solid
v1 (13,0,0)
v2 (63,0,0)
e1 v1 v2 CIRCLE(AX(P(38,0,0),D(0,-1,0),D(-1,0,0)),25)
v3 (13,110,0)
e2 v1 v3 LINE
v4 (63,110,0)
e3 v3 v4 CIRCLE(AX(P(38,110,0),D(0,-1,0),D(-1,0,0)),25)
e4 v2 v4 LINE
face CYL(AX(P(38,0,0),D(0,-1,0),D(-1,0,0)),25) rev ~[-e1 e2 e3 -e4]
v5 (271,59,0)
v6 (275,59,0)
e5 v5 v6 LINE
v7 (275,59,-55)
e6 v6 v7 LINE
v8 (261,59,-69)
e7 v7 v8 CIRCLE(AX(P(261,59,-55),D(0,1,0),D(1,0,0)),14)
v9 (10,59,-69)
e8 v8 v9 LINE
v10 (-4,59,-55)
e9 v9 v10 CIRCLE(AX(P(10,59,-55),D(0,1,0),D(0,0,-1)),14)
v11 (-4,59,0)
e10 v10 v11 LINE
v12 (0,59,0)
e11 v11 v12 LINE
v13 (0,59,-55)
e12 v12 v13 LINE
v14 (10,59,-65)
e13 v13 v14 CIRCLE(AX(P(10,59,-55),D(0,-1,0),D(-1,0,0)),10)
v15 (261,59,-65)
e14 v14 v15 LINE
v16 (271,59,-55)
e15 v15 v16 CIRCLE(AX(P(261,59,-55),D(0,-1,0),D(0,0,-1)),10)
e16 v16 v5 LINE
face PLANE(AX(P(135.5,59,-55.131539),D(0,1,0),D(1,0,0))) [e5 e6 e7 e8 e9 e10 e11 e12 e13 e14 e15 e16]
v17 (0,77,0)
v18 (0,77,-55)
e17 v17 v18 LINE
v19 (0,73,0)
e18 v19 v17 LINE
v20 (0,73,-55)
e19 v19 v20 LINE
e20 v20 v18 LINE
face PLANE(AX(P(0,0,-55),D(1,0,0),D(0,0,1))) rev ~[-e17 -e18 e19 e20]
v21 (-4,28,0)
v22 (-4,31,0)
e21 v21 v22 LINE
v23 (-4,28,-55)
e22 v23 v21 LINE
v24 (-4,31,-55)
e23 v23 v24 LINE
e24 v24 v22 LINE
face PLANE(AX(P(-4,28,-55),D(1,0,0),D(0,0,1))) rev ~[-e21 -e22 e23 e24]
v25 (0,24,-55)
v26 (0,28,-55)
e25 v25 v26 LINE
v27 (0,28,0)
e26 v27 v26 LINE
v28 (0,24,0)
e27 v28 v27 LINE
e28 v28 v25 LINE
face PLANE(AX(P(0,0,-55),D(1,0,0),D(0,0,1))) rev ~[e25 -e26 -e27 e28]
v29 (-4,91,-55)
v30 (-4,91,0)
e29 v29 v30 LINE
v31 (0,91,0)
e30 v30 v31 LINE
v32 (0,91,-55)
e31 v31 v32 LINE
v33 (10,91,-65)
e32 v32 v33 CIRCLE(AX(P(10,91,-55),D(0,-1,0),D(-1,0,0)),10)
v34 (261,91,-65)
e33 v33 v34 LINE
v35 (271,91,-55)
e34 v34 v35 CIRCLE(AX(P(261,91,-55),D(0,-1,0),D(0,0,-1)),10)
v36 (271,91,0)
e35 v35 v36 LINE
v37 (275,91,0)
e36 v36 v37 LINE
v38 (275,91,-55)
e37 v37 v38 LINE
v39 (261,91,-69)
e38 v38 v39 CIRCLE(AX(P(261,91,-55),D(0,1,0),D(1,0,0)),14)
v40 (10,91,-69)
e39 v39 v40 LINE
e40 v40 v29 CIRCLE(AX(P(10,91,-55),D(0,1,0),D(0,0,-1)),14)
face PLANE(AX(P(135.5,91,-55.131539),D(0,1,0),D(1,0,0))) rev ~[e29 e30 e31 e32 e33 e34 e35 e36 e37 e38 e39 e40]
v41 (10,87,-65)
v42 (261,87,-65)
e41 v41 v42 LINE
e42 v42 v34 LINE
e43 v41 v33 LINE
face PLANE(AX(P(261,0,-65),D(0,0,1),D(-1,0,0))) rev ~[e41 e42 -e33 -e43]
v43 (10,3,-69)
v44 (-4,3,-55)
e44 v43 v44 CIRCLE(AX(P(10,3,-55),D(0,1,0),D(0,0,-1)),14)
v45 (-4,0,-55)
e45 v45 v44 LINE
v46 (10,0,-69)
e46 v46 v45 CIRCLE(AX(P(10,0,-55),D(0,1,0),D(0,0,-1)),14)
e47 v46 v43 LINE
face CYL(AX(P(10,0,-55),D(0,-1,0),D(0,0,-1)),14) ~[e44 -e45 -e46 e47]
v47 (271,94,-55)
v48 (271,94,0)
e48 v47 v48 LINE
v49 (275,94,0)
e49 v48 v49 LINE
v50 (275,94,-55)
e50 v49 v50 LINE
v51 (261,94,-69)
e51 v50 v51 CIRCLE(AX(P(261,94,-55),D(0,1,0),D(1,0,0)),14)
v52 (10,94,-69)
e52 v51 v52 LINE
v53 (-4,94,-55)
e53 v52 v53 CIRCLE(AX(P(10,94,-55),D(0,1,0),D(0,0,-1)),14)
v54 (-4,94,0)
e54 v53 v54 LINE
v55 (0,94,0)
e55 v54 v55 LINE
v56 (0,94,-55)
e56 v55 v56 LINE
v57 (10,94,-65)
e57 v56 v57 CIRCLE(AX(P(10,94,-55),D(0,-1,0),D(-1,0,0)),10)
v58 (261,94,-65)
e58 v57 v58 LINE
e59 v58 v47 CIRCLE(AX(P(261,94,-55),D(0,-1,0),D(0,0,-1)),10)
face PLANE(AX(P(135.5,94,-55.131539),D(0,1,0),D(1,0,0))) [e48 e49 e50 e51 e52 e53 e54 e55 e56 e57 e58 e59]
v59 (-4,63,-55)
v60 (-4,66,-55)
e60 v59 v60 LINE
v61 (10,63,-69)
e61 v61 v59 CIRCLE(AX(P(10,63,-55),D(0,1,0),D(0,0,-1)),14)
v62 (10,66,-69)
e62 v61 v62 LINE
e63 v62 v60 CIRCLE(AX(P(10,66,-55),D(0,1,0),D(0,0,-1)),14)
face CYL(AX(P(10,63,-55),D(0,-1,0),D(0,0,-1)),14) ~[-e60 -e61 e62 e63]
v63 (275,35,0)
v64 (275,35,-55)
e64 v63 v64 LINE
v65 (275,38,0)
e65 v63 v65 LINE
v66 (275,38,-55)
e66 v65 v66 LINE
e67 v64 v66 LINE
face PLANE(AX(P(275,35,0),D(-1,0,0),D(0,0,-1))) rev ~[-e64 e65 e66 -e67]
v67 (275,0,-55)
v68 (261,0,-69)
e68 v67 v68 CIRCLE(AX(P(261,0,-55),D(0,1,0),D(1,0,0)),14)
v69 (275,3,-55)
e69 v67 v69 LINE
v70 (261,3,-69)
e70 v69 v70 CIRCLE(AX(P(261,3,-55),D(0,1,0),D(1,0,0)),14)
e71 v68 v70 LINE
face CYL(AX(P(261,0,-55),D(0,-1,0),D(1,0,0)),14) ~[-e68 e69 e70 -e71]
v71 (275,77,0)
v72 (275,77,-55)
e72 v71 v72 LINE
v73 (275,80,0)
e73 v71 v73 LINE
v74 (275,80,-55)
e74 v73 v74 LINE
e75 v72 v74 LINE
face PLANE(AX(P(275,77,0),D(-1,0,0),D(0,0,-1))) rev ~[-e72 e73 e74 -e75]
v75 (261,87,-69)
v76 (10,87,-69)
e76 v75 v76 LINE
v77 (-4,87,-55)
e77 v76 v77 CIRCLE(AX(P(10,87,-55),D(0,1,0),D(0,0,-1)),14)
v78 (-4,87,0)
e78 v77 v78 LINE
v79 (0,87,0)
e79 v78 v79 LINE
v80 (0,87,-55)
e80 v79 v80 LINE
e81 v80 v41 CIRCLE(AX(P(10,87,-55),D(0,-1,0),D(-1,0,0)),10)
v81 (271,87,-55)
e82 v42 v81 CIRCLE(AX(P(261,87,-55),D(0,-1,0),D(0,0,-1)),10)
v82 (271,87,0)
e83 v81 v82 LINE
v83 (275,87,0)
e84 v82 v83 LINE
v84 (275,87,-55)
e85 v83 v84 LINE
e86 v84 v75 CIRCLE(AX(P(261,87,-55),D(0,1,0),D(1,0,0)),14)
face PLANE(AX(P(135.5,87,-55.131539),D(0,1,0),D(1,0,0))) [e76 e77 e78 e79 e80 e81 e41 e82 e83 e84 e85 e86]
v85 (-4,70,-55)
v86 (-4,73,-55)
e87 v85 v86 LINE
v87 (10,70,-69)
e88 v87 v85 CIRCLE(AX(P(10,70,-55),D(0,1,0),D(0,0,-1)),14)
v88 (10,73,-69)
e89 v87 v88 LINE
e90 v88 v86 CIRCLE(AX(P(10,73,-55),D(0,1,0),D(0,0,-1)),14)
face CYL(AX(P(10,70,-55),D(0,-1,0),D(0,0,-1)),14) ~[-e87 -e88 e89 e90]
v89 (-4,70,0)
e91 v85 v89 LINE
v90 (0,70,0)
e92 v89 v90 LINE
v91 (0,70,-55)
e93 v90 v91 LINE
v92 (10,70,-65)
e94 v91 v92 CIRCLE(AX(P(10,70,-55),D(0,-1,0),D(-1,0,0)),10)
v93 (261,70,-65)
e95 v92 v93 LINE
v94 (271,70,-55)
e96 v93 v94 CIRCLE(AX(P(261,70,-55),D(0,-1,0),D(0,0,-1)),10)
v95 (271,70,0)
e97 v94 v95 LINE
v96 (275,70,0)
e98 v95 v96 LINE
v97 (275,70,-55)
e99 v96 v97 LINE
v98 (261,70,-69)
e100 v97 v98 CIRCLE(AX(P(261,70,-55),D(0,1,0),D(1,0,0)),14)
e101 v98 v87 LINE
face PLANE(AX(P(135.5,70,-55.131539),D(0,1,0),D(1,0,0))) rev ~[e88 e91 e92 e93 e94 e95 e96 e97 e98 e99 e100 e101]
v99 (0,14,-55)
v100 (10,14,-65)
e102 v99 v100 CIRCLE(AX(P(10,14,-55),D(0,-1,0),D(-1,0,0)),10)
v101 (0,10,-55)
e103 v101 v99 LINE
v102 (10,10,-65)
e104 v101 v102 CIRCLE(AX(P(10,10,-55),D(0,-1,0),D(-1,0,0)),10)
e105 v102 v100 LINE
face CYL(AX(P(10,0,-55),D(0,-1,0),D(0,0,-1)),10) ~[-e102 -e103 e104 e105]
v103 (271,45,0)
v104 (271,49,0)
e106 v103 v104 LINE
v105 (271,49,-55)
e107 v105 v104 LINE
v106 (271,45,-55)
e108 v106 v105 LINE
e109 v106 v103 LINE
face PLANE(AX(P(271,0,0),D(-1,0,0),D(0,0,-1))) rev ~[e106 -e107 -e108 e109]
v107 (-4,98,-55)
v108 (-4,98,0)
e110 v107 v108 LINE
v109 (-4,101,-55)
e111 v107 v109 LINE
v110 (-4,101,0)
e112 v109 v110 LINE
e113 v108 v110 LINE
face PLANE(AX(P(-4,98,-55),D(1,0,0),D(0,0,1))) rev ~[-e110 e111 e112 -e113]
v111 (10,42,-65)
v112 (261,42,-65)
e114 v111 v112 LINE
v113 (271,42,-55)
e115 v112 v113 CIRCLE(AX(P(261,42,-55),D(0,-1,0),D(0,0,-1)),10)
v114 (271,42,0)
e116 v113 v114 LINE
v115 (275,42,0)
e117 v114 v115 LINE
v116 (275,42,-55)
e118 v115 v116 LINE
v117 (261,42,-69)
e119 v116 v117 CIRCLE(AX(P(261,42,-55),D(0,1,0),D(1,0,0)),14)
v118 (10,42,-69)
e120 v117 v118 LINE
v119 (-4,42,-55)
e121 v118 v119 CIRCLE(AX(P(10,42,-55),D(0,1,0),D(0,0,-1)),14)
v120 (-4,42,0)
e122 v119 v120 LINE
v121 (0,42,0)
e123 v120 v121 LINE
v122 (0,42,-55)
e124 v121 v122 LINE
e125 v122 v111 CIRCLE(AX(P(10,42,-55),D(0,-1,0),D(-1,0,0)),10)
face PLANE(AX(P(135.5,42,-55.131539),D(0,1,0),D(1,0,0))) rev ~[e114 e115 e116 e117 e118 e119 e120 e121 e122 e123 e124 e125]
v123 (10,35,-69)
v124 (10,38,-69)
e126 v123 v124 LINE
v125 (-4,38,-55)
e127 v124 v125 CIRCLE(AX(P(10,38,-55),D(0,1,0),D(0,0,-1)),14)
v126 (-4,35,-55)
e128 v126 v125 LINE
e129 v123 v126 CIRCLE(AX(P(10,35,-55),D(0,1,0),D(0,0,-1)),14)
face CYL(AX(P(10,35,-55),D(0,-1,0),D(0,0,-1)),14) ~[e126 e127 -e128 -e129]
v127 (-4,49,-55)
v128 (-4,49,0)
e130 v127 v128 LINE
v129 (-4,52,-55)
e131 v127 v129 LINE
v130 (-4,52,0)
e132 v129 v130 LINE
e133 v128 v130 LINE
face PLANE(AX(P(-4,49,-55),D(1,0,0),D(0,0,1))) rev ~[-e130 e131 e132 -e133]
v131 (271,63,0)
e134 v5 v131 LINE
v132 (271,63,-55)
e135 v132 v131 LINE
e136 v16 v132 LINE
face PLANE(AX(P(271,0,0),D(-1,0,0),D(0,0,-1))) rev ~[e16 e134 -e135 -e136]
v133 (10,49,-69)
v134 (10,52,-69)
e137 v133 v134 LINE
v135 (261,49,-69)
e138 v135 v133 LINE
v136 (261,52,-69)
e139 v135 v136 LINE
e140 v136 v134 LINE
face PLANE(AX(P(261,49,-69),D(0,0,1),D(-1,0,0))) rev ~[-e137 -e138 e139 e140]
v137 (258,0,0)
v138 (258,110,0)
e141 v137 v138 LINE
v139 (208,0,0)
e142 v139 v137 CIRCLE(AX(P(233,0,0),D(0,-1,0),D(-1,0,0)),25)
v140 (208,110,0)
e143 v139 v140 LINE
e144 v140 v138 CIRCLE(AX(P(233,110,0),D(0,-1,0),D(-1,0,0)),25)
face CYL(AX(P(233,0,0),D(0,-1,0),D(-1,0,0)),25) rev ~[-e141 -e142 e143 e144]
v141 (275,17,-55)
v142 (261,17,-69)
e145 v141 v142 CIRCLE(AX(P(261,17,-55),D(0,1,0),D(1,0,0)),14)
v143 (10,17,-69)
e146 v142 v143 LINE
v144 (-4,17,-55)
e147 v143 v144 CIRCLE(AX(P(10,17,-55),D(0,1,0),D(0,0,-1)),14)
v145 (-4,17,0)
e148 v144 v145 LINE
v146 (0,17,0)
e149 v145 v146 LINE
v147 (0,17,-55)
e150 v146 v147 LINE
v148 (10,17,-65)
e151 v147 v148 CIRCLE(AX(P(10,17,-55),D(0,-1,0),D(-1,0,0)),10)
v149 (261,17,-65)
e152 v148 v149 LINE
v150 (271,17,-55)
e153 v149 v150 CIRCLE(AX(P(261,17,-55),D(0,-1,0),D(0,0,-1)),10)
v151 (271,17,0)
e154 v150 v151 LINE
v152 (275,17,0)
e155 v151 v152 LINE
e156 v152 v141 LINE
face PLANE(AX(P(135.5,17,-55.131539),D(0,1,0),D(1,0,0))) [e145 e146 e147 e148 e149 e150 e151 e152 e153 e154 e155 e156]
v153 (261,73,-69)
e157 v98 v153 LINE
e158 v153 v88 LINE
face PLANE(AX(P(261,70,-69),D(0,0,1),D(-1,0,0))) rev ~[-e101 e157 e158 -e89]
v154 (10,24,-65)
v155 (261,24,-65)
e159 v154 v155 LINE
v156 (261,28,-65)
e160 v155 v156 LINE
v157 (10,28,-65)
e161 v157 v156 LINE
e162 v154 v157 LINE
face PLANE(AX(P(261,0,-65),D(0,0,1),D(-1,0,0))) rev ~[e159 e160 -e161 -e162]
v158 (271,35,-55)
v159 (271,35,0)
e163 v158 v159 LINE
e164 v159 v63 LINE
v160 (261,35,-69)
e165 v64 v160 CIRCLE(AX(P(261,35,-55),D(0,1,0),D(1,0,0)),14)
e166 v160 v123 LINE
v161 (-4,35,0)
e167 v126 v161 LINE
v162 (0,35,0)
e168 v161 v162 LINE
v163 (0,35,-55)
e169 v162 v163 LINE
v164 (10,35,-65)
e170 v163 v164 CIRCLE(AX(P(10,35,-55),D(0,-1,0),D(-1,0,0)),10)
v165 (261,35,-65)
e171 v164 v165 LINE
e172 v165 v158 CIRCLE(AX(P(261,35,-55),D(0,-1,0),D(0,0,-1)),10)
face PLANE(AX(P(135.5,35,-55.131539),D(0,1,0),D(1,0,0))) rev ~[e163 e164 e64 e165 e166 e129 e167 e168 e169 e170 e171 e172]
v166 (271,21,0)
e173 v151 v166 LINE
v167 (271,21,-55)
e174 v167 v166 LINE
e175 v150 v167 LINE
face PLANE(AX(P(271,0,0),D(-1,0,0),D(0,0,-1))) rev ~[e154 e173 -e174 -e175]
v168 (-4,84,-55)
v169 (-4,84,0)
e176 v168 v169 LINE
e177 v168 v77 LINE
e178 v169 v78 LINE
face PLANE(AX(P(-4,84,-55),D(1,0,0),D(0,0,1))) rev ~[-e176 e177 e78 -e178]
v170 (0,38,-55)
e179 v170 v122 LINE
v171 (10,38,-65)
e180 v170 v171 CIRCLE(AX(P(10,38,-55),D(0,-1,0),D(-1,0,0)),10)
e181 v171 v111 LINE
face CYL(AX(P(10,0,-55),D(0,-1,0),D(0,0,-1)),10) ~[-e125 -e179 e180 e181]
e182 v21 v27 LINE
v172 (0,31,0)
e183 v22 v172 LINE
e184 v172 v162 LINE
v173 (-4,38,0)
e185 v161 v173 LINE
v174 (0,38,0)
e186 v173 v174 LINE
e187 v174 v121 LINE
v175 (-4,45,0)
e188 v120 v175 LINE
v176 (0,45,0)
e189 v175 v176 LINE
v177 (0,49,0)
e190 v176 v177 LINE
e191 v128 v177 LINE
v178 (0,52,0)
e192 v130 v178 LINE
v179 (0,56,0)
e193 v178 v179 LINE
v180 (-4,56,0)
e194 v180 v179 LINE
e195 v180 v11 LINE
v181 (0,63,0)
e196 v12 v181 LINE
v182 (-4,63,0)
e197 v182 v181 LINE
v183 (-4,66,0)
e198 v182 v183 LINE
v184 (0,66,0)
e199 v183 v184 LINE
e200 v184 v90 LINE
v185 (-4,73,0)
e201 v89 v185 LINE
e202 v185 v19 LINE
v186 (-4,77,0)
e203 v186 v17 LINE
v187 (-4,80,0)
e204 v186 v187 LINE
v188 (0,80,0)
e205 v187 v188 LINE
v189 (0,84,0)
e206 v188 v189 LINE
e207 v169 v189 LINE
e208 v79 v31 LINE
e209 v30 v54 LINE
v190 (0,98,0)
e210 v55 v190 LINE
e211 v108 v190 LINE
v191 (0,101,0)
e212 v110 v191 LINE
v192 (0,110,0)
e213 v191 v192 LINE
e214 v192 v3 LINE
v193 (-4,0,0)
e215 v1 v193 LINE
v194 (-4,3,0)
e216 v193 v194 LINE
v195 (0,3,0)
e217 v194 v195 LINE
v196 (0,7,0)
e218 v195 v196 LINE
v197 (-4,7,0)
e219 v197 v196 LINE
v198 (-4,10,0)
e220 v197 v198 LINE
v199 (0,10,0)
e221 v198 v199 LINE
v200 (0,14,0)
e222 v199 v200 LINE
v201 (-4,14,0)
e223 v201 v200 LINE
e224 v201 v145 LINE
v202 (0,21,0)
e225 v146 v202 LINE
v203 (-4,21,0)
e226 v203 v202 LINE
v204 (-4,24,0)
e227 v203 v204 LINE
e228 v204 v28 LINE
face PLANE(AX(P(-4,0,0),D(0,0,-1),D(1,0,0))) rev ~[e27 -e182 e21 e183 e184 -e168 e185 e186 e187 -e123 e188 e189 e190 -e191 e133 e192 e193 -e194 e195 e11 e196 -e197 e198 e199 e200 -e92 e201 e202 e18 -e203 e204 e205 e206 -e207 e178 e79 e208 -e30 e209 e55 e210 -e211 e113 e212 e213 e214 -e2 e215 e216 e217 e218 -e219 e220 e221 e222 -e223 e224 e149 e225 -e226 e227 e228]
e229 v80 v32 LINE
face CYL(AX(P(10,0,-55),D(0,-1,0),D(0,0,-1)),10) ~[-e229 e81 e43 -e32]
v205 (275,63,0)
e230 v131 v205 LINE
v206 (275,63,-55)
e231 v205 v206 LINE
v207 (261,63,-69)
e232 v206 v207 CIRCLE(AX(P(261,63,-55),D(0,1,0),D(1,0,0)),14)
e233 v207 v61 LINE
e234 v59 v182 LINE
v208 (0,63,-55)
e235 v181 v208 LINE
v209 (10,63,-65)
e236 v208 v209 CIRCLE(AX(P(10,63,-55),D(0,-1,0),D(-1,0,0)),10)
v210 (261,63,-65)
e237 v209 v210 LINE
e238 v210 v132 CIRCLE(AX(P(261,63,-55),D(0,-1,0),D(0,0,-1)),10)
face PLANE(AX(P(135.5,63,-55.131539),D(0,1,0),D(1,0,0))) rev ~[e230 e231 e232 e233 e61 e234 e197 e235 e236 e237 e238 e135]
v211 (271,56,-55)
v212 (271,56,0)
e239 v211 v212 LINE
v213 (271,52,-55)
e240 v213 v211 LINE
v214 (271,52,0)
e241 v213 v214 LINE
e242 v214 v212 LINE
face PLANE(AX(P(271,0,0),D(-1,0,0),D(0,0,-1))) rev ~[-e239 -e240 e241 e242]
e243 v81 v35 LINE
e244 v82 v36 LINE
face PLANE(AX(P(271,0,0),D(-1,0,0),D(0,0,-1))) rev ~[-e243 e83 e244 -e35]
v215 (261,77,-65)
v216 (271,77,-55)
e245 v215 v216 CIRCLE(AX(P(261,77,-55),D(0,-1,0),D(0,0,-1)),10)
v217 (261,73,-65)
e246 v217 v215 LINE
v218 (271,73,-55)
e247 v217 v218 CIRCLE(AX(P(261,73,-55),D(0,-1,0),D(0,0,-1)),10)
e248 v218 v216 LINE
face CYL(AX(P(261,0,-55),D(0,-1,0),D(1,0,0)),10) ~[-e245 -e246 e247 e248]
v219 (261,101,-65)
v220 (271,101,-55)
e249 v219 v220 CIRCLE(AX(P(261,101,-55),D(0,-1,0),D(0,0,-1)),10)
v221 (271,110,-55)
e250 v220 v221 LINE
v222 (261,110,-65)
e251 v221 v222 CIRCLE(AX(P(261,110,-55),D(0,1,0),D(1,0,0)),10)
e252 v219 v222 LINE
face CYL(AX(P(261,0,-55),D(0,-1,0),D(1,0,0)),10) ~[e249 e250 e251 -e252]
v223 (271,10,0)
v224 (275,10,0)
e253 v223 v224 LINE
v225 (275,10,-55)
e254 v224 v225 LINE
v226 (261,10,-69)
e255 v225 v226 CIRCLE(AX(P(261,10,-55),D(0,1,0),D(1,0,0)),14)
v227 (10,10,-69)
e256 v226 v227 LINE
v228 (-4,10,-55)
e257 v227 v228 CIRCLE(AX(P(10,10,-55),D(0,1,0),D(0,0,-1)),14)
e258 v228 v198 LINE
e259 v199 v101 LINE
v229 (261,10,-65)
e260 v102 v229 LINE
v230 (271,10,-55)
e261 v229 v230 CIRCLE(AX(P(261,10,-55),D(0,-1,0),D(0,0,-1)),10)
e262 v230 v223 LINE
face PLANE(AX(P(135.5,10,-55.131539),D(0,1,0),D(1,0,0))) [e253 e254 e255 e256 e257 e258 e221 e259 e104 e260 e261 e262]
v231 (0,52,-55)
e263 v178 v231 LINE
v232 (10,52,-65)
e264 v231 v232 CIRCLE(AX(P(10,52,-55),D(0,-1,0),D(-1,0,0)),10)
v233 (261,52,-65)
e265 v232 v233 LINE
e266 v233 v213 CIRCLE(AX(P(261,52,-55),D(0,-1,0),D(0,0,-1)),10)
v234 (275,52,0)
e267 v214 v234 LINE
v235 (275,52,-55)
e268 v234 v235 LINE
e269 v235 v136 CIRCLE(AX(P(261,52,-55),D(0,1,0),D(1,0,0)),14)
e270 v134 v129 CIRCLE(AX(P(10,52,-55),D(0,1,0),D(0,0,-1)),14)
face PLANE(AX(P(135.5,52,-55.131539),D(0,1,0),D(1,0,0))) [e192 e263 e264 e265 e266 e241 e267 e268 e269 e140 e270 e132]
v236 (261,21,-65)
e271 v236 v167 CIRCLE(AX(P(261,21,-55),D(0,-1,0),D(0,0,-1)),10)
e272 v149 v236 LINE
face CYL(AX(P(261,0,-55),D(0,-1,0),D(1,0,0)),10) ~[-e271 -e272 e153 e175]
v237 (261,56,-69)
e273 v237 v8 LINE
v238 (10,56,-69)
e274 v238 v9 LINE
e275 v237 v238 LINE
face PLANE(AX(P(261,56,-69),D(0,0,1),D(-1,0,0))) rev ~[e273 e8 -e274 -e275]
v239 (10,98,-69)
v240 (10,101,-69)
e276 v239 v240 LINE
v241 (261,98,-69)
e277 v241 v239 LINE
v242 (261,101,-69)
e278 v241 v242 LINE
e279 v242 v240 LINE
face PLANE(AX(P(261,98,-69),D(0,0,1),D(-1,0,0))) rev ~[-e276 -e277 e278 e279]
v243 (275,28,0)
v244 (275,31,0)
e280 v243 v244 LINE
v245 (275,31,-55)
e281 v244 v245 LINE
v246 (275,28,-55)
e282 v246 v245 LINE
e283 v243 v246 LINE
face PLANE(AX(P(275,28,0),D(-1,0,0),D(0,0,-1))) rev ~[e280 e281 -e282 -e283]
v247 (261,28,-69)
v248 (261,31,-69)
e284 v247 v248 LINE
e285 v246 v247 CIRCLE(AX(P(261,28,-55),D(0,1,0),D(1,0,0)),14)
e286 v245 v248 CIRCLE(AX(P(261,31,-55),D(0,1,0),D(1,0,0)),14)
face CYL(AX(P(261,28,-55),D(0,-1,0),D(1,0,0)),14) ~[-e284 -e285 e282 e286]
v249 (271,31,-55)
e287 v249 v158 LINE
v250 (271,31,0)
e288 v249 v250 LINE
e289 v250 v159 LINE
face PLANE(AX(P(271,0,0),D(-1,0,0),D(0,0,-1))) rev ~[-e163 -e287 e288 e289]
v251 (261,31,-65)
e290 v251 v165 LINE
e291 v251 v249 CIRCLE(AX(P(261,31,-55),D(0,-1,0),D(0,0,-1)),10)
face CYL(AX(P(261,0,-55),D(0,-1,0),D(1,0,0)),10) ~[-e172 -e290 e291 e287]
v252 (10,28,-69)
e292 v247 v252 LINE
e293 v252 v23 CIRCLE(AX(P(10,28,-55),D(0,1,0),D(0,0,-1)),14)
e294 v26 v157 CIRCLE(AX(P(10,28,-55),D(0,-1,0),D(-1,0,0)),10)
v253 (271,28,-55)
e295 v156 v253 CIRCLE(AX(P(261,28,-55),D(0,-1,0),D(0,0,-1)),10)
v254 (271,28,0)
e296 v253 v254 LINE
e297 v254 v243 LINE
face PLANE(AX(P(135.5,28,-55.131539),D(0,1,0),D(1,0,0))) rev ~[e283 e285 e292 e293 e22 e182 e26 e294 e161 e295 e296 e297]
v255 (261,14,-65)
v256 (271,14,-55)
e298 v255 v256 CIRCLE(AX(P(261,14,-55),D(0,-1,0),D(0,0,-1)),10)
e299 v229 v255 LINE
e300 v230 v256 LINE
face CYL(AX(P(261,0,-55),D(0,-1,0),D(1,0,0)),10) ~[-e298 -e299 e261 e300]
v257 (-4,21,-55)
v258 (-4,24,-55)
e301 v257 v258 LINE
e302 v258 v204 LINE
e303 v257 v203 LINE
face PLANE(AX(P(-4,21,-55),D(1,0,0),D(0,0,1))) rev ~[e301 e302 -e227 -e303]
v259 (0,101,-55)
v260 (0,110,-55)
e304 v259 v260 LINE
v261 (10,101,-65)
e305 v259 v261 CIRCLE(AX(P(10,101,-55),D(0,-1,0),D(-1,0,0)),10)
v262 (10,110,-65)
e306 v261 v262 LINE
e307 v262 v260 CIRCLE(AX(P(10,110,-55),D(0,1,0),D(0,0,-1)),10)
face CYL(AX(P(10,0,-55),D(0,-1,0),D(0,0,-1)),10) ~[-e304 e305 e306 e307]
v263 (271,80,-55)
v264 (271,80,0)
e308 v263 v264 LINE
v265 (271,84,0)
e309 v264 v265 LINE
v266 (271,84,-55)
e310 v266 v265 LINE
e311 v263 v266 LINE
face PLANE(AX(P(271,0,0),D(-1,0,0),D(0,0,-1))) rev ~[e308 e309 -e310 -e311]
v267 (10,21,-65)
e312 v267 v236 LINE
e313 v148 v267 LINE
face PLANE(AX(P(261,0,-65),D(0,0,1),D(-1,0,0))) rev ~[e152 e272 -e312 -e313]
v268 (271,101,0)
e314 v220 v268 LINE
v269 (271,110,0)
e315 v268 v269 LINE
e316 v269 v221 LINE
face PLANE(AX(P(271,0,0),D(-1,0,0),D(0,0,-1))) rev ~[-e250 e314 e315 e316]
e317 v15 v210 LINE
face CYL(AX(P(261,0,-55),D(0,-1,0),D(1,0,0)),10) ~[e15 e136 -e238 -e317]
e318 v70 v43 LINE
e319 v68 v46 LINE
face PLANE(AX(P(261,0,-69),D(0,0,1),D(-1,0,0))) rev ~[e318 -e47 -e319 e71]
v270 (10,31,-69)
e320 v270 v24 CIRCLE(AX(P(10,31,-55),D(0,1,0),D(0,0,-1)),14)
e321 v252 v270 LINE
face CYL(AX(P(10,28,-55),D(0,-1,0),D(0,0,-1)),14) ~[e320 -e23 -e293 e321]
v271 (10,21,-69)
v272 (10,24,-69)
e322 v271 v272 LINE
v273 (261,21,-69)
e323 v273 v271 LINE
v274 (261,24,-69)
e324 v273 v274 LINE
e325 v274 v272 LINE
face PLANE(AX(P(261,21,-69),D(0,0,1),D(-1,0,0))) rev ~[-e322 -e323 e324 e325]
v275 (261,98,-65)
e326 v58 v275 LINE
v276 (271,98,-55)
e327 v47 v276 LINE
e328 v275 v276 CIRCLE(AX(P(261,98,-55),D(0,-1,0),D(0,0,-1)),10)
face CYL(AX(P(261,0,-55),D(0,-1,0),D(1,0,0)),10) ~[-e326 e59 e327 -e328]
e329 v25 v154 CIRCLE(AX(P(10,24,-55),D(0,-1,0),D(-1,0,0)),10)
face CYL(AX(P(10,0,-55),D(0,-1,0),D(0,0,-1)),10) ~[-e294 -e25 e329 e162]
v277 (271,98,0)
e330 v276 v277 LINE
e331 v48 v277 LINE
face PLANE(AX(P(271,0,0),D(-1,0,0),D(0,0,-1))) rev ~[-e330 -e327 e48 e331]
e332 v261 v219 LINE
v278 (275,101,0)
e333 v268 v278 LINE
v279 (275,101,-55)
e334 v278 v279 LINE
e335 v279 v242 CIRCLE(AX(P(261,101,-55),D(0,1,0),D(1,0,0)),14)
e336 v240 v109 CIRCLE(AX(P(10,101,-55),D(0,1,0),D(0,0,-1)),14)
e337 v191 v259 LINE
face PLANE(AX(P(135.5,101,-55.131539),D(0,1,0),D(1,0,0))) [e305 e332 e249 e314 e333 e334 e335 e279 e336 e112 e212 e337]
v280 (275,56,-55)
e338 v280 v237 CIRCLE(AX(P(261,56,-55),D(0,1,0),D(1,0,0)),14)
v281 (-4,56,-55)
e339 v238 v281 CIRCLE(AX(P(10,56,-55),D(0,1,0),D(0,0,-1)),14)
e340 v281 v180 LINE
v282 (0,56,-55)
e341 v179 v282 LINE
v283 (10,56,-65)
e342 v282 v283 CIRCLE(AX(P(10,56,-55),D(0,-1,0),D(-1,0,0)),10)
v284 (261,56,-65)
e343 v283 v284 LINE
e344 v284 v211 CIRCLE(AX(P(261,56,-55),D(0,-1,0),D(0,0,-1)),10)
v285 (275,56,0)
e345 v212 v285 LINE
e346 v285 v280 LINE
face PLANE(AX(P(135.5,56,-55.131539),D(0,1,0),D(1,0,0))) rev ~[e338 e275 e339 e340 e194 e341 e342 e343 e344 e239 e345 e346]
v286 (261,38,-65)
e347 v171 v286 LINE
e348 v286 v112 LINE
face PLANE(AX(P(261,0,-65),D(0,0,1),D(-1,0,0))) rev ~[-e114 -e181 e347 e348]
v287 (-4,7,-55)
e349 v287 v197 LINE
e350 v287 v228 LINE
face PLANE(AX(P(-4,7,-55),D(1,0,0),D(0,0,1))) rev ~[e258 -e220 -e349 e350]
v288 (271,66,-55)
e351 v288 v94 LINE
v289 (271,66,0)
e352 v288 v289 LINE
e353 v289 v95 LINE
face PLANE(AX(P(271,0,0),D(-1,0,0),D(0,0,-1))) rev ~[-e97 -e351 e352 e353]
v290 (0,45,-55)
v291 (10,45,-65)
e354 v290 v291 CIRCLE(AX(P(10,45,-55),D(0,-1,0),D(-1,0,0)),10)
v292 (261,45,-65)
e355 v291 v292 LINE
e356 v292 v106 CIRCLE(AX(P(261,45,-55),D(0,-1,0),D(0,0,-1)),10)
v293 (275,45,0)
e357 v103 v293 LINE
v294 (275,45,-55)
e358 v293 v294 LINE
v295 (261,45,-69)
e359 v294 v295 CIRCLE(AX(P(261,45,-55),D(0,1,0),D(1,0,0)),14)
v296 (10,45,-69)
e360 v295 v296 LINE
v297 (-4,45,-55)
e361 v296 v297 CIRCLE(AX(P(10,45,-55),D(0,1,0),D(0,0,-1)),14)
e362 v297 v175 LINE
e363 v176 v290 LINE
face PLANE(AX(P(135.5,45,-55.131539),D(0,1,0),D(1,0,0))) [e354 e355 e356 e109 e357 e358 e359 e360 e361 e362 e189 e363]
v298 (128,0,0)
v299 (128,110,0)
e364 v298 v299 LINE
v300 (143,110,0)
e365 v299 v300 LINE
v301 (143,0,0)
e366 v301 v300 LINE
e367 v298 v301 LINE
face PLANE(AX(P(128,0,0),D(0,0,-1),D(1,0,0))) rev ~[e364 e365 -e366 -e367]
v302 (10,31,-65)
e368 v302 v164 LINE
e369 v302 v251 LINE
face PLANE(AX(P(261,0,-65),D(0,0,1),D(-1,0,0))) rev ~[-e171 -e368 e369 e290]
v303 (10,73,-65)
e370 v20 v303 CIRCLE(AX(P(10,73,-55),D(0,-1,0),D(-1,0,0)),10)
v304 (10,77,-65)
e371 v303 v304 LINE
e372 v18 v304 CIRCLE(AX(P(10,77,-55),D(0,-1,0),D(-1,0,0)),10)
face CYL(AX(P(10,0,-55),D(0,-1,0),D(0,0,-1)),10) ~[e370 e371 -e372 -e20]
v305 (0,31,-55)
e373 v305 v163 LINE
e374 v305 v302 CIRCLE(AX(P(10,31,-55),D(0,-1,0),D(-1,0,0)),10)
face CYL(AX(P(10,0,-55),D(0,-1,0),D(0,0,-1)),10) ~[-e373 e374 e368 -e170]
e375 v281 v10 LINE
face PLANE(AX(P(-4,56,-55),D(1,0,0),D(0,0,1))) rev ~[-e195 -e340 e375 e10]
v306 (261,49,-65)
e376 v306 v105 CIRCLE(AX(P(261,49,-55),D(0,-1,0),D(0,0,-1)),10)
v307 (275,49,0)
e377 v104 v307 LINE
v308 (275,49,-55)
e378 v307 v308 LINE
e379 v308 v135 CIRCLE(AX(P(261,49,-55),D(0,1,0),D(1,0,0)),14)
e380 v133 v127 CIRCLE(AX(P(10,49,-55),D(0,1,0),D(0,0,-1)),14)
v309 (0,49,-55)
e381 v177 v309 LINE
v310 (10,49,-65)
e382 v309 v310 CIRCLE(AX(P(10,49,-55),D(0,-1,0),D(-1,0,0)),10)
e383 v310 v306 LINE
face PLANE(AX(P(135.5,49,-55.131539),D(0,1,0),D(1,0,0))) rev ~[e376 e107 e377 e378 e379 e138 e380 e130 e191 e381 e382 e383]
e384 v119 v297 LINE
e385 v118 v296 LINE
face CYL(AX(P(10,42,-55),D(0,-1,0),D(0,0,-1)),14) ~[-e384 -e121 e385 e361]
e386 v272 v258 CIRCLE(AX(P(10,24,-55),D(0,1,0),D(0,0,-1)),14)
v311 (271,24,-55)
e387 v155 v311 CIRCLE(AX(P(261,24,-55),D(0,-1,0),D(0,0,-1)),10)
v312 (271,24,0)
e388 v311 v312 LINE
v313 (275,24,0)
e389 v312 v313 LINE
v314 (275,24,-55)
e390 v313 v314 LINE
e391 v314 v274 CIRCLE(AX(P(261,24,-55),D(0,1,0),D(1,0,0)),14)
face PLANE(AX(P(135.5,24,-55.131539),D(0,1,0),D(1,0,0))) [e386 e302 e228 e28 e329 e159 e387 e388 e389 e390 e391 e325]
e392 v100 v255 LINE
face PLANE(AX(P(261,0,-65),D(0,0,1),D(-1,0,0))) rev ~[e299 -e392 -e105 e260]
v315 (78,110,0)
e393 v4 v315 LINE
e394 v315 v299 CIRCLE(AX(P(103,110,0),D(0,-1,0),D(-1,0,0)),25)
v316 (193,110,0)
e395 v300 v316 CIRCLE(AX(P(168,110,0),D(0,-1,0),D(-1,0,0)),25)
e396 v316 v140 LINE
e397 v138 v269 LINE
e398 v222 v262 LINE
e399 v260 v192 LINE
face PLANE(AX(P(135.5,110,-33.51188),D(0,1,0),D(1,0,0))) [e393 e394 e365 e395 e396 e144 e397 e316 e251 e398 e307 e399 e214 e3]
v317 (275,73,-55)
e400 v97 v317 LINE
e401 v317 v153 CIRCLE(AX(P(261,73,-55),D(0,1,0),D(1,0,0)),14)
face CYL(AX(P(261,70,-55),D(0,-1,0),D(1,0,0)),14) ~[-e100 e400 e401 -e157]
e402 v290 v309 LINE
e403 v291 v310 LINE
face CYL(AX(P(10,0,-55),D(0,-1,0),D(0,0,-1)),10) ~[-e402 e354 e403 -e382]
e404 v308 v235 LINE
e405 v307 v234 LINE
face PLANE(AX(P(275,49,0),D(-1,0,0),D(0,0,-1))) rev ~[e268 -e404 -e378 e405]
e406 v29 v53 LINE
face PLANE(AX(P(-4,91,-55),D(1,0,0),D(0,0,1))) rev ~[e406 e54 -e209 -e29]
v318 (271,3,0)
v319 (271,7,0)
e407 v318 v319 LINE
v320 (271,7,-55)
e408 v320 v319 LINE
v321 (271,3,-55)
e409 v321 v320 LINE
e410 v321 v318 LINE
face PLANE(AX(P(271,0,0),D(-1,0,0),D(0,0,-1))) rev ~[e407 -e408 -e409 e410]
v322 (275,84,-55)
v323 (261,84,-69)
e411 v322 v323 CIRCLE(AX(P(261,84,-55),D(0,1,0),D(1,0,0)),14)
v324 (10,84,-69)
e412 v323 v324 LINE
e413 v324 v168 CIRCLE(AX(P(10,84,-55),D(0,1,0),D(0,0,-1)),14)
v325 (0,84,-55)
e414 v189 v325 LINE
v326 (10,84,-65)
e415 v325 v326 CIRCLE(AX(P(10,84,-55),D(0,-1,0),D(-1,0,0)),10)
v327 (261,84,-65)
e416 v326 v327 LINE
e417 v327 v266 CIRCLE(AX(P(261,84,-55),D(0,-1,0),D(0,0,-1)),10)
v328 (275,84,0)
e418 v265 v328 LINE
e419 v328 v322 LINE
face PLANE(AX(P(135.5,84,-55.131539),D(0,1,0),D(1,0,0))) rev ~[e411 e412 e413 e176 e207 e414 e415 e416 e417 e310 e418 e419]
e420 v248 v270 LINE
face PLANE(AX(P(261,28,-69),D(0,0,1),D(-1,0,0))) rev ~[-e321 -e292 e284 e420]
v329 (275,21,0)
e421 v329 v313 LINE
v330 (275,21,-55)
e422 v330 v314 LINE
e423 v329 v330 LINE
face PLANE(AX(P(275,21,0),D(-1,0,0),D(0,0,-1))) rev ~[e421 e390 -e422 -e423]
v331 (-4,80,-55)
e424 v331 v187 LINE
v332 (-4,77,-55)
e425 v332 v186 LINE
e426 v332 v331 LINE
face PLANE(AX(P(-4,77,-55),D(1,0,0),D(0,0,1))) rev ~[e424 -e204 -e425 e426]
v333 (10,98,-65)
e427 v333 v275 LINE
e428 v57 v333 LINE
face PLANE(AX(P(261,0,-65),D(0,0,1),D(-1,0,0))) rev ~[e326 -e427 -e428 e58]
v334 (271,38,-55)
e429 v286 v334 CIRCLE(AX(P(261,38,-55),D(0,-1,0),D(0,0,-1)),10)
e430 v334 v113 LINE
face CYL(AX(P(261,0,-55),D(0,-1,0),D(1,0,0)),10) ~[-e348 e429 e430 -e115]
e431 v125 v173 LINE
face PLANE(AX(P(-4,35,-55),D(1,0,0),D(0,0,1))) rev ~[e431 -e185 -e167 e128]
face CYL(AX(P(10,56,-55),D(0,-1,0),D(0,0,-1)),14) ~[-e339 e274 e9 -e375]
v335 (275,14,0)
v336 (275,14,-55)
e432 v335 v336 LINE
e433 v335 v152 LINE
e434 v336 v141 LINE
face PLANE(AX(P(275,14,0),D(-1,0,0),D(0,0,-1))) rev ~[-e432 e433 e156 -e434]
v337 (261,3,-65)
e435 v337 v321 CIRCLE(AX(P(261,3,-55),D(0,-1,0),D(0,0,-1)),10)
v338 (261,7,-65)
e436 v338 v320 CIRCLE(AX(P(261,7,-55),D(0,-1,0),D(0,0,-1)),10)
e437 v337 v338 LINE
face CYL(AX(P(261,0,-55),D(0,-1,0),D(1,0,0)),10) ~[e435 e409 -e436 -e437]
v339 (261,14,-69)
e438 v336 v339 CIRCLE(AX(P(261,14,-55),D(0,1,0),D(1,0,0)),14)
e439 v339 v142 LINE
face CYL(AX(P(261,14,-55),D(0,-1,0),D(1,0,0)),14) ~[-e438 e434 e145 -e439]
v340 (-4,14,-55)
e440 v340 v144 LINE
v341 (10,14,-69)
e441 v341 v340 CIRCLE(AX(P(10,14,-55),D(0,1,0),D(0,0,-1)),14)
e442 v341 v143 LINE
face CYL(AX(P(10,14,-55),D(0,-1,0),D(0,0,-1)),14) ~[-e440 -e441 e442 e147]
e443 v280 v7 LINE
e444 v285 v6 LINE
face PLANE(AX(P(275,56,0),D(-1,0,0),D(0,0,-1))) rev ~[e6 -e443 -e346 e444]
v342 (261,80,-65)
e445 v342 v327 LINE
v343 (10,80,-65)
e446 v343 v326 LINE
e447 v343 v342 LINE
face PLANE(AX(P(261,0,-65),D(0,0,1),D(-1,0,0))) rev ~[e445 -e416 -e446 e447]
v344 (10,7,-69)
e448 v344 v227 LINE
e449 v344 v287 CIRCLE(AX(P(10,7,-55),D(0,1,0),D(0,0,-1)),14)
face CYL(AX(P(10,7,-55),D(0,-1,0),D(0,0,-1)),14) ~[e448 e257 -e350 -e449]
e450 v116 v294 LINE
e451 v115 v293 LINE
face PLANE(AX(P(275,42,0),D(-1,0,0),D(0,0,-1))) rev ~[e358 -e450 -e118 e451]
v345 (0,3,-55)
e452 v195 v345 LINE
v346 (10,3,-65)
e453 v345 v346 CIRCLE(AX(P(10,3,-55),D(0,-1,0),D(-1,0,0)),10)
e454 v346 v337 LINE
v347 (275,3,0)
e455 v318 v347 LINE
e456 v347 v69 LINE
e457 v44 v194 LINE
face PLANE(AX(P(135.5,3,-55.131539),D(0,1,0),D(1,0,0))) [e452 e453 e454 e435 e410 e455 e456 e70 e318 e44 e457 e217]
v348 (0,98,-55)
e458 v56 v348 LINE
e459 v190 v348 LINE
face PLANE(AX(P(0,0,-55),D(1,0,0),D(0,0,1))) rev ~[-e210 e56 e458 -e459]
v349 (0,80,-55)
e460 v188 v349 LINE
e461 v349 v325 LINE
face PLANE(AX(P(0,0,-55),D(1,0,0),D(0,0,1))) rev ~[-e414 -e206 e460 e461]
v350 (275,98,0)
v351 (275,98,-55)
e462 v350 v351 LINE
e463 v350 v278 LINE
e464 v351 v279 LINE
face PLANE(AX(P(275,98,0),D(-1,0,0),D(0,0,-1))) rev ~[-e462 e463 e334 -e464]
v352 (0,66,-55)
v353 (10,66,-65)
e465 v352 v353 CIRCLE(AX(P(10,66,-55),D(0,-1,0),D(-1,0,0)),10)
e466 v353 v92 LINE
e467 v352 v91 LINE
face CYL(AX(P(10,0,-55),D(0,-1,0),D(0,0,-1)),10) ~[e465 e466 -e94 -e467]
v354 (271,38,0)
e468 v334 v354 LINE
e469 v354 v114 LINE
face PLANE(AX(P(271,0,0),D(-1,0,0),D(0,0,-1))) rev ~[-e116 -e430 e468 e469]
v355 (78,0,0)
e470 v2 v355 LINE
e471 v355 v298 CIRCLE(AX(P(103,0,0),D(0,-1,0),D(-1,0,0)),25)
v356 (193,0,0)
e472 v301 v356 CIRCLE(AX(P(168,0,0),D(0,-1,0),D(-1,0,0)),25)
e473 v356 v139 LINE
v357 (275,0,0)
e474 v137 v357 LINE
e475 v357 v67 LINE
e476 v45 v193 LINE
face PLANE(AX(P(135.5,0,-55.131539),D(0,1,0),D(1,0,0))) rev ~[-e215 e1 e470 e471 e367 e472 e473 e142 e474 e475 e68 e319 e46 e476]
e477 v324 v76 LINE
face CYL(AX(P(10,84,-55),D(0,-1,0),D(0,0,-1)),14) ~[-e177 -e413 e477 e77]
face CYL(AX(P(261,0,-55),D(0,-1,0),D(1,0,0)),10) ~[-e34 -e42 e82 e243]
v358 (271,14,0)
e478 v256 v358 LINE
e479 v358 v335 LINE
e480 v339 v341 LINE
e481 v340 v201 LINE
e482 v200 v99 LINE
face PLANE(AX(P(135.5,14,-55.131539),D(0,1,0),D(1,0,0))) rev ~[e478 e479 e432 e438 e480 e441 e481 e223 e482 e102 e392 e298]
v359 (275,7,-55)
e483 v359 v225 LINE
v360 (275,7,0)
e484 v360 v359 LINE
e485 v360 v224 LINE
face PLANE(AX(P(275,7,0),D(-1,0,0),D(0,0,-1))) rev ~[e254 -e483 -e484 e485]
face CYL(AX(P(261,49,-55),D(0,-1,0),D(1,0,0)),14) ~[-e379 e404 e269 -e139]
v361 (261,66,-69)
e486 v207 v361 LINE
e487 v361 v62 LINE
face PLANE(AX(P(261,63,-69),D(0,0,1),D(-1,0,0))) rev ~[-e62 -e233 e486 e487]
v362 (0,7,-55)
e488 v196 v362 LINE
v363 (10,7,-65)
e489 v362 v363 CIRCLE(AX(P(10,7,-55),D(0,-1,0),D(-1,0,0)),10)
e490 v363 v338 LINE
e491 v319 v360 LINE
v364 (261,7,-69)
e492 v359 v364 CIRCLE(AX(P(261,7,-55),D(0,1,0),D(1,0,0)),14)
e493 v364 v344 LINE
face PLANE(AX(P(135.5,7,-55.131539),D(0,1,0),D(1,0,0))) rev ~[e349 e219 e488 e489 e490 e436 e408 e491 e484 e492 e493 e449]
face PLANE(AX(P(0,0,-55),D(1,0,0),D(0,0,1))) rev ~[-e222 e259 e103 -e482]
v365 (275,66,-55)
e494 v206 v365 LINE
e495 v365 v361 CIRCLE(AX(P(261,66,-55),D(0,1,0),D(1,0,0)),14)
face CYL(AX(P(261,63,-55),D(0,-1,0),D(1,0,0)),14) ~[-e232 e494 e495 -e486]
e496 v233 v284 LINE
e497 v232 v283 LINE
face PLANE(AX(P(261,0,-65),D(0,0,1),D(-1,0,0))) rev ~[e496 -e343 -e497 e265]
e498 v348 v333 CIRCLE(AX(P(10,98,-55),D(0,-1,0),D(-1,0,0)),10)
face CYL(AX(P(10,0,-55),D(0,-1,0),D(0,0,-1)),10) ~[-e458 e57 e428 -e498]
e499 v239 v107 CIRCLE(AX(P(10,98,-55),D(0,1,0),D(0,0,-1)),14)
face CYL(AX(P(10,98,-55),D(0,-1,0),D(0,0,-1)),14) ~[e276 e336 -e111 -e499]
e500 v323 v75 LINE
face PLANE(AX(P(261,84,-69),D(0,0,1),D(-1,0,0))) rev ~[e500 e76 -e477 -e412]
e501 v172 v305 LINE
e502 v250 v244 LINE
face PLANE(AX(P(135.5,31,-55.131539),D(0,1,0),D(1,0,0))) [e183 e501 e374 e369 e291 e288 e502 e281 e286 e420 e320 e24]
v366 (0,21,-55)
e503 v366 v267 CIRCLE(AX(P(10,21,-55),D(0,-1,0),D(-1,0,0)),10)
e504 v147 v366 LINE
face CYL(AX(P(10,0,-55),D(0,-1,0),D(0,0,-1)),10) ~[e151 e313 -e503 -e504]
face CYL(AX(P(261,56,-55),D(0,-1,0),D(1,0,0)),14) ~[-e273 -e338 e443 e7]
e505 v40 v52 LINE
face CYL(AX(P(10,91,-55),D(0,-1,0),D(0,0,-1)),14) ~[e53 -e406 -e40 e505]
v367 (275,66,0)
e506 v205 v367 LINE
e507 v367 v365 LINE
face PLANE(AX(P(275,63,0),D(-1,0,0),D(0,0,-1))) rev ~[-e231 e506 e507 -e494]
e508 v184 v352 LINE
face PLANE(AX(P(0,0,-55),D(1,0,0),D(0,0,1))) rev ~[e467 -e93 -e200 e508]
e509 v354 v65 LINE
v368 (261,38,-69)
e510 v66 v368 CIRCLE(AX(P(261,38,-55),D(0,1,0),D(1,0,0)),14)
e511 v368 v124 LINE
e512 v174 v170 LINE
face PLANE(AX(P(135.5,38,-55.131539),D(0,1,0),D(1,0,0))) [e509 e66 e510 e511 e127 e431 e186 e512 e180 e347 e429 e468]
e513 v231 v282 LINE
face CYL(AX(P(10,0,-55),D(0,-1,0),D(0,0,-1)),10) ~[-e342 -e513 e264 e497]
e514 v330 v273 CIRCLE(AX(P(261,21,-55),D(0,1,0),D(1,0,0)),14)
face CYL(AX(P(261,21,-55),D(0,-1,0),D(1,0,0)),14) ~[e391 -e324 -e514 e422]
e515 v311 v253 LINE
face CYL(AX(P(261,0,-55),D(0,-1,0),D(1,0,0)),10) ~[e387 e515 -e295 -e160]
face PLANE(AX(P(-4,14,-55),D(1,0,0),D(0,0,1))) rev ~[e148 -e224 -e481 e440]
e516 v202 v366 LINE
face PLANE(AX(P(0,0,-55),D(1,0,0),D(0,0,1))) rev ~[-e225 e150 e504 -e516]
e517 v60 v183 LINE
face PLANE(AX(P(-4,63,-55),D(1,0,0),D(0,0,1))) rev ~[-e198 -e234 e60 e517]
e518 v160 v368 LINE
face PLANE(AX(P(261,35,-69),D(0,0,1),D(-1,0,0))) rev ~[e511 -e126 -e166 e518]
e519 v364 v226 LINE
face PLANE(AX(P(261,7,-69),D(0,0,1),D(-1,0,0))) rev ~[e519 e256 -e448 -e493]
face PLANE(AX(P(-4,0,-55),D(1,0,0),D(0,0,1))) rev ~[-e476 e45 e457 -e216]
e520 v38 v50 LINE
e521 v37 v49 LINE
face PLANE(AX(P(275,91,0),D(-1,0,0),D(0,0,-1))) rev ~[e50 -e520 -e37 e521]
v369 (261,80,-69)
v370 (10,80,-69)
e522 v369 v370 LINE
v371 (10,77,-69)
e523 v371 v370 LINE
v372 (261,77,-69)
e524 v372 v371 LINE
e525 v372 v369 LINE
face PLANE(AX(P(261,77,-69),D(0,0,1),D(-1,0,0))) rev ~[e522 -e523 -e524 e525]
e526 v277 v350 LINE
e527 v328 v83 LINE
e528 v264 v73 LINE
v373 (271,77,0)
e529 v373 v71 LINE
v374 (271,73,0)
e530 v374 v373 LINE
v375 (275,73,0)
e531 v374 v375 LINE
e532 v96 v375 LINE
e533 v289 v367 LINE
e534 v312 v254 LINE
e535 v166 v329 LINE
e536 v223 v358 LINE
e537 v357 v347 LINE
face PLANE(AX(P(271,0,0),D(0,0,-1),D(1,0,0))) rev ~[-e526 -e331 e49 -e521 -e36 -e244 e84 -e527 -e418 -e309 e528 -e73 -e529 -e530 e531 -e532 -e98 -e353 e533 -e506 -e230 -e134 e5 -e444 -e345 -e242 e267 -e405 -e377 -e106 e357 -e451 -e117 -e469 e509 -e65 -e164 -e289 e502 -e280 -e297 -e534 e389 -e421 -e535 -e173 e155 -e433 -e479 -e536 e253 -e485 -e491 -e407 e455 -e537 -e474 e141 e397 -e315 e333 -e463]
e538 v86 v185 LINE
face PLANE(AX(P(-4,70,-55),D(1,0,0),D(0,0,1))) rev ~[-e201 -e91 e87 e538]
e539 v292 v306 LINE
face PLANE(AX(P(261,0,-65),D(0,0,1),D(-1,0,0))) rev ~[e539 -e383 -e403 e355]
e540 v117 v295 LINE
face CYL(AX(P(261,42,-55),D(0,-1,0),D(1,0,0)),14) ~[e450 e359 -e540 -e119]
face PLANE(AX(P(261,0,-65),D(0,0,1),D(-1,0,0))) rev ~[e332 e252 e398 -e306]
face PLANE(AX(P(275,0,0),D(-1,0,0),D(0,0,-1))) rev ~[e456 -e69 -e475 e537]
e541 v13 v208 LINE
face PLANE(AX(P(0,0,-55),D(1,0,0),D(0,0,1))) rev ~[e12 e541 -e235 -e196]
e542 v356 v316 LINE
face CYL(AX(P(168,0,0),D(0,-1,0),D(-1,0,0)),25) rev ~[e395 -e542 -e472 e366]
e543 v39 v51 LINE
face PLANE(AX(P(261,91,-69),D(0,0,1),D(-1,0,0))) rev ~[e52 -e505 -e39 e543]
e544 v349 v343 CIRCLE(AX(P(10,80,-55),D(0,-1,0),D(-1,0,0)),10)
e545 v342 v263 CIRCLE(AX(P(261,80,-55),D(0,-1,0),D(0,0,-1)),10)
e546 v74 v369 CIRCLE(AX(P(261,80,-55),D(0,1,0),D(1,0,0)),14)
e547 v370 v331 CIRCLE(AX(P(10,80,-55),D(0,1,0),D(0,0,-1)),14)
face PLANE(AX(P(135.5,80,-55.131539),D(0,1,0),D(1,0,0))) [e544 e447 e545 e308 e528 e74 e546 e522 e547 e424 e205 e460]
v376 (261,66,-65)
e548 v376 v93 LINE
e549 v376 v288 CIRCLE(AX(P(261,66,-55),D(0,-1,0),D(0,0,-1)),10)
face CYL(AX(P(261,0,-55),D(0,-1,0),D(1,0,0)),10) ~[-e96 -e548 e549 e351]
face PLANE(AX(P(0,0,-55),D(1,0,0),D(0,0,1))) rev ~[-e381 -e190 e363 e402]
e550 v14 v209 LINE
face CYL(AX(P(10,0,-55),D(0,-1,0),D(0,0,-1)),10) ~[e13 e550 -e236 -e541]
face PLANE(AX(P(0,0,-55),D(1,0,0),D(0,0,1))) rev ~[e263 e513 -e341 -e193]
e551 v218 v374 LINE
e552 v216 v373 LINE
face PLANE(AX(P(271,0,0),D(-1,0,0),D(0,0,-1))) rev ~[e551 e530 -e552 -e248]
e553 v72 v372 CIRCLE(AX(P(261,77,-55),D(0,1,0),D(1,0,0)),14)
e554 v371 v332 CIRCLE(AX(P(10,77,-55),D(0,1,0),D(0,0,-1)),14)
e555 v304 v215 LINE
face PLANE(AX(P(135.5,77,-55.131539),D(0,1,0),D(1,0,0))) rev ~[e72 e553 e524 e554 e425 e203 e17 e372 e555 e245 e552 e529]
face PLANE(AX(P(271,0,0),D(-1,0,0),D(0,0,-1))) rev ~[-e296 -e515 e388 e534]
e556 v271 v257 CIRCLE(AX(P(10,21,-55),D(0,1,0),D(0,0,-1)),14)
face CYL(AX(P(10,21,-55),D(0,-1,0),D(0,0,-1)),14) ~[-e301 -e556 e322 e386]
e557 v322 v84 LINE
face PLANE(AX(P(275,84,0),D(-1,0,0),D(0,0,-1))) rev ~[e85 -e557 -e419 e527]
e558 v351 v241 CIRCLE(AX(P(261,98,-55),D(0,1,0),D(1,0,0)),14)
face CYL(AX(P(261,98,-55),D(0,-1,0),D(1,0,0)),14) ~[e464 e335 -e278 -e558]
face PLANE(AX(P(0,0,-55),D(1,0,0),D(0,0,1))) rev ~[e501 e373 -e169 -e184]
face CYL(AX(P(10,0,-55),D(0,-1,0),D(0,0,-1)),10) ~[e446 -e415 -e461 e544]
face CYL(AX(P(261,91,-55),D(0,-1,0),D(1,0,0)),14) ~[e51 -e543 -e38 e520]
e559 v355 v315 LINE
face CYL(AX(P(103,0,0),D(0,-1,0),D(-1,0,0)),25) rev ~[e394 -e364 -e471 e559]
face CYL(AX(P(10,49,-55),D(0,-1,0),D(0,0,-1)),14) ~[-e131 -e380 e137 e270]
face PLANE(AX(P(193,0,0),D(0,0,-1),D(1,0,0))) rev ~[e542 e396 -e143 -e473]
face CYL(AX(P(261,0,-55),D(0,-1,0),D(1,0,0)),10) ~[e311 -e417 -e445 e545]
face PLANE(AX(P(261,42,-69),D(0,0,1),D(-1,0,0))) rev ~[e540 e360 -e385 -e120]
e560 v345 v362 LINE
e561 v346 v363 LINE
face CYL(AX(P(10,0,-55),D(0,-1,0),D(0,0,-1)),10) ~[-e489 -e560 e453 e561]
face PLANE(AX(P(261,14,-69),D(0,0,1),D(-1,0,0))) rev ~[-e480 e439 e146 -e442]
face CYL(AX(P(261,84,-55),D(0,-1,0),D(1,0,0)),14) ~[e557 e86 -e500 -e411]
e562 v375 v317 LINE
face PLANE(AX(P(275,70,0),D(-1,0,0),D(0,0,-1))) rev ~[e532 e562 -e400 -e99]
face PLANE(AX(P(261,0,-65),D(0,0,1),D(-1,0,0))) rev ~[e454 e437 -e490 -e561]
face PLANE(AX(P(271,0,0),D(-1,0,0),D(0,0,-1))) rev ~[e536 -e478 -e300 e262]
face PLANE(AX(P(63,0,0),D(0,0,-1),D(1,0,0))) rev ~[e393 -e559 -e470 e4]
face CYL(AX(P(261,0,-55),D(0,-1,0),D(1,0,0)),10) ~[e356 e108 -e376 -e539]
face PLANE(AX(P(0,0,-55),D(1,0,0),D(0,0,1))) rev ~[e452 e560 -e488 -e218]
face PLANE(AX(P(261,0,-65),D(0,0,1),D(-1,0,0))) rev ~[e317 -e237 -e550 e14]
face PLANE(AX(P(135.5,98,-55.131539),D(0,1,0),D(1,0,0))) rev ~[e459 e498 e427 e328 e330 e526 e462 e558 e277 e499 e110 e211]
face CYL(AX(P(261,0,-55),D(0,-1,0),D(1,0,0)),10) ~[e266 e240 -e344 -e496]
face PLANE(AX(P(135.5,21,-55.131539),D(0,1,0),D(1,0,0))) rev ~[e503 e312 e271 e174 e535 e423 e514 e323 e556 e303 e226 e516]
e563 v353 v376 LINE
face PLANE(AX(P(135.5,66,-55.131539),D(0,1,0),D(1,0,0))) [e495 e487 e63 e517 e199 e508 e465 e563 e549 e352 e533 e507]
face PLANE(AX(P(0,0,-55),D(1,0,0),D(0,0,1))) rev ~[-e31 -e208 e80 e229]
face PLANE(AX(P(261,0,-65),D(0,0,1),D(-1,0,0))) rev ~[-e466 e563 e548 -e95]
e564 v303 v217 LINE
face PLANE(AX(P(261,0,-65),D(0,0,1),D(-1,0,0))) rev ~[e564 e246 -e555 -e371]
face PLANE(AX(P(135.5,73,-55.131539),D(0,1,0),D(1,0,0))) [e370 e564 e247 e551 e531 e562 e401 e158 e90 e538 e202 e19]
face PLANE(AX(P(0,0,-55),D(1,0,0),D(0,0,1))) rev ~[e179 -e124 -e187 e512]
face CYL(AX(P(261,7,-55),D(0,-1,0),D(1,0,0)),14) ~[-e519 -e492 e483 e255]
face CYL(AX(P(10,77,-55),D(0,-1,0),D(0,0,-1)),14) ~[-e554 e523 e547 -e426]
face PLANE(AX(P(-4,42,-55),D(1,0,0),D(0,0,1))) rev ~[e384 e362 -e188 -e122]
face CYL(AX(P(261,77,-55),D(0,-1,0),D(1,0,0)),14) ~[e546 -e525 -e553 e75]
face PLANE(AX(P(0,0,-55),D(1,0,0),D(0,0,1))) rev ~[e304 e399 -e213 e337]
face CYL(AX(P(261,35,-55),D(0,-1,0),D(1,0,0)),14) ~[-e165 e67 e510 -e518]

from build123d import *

# Parameters (mm, degrees)
BOSS_EXTRUDE1_DEPTH = 110
BOSS_EXTRUDE2_DEPTH = 3
LPATTERN1_COUNT     = 15
LPATTERN1_PITCH     = 7


with BuildPart() as part:
    # Sketch1 → Boss-Extrude1 (new body)
    with BuildSketch(Plane(origin=(0, 0, 0), x_dir=(1, 0, 0), z_dir=(0, 1, 0))):
        with BuildLine():
            Line((0, 0), (13, 0))
            ThreePointArc((13, 0), (38, 25), (63, 0))
            Line((63, 0), (78, 0))
            ThreePointArc((78, 0), (103, 25), (128, 0))
            Line((128, 0), (143, 0))
            ThreePointArc((143, 0), (168, 25), (193, 0))
            Line((193, 0), (208, 0))
            ThreePointArc((208, 0), (233, 25), (258, 0))
            Line((258, 0), (271, 0))
            Line((271, 0), (271, 55))
            ThreePointArc((271, 55), (268.071067812, 62.071067812), (261, 65))
            Line((261, 65), (10, 65))
            ThreePointArc((10, 65), (2.928932188, 62.071067812), (0, 55))
            Line((0, 55), (0, 0))
        make_face()
    extrude(amount=BOSS_EXTRUDE1_DEPTH)

    # Sketch2 → Boss-Extrude2 (add)
    with BuildSketch(Plane(origin=(0, 0, 0), x_dir=(1, 0, 0), z_dir=(0, 1, 0))):
        with BuildLine():
            Line((275, 0), (275, 55))
            ThreePointArc((275, 55), (270.899494937, 64.899494937), (261, 69))
            Line((261, 69), (10, 69))
            ThreePointArc((10, 69), (0.100505063, 64.899494937), (-4, 55))
            Line((-4, 55), (-4, 0))
            Line((-4, 0), (0, 0))
            Line((0, 0), (0, 55))
            ThreePointArc((0, 55), (2.928932188, 62.071067812), (10, 65))
            Line((10, 65), (261, 65))
            ThreePointArc((261, 65), (268.071067812, 62.071067812), (271, 55))
            Line((271, 55), (271, 0))
            Line((271, 0), (275, 0))
        make_face()
    boss_extrude2 = extrude(amount=BOSS_EXTRUDE2_DEPTH)

    # LPattern1: Boss-Extrude2 ×15
    with Locations(*[(0, i * LPATTERN1_PITCH, 0) for i in range(1, LPATTERN1_COUNT)]):
        add(boss_extrude2)


solid = part.part
